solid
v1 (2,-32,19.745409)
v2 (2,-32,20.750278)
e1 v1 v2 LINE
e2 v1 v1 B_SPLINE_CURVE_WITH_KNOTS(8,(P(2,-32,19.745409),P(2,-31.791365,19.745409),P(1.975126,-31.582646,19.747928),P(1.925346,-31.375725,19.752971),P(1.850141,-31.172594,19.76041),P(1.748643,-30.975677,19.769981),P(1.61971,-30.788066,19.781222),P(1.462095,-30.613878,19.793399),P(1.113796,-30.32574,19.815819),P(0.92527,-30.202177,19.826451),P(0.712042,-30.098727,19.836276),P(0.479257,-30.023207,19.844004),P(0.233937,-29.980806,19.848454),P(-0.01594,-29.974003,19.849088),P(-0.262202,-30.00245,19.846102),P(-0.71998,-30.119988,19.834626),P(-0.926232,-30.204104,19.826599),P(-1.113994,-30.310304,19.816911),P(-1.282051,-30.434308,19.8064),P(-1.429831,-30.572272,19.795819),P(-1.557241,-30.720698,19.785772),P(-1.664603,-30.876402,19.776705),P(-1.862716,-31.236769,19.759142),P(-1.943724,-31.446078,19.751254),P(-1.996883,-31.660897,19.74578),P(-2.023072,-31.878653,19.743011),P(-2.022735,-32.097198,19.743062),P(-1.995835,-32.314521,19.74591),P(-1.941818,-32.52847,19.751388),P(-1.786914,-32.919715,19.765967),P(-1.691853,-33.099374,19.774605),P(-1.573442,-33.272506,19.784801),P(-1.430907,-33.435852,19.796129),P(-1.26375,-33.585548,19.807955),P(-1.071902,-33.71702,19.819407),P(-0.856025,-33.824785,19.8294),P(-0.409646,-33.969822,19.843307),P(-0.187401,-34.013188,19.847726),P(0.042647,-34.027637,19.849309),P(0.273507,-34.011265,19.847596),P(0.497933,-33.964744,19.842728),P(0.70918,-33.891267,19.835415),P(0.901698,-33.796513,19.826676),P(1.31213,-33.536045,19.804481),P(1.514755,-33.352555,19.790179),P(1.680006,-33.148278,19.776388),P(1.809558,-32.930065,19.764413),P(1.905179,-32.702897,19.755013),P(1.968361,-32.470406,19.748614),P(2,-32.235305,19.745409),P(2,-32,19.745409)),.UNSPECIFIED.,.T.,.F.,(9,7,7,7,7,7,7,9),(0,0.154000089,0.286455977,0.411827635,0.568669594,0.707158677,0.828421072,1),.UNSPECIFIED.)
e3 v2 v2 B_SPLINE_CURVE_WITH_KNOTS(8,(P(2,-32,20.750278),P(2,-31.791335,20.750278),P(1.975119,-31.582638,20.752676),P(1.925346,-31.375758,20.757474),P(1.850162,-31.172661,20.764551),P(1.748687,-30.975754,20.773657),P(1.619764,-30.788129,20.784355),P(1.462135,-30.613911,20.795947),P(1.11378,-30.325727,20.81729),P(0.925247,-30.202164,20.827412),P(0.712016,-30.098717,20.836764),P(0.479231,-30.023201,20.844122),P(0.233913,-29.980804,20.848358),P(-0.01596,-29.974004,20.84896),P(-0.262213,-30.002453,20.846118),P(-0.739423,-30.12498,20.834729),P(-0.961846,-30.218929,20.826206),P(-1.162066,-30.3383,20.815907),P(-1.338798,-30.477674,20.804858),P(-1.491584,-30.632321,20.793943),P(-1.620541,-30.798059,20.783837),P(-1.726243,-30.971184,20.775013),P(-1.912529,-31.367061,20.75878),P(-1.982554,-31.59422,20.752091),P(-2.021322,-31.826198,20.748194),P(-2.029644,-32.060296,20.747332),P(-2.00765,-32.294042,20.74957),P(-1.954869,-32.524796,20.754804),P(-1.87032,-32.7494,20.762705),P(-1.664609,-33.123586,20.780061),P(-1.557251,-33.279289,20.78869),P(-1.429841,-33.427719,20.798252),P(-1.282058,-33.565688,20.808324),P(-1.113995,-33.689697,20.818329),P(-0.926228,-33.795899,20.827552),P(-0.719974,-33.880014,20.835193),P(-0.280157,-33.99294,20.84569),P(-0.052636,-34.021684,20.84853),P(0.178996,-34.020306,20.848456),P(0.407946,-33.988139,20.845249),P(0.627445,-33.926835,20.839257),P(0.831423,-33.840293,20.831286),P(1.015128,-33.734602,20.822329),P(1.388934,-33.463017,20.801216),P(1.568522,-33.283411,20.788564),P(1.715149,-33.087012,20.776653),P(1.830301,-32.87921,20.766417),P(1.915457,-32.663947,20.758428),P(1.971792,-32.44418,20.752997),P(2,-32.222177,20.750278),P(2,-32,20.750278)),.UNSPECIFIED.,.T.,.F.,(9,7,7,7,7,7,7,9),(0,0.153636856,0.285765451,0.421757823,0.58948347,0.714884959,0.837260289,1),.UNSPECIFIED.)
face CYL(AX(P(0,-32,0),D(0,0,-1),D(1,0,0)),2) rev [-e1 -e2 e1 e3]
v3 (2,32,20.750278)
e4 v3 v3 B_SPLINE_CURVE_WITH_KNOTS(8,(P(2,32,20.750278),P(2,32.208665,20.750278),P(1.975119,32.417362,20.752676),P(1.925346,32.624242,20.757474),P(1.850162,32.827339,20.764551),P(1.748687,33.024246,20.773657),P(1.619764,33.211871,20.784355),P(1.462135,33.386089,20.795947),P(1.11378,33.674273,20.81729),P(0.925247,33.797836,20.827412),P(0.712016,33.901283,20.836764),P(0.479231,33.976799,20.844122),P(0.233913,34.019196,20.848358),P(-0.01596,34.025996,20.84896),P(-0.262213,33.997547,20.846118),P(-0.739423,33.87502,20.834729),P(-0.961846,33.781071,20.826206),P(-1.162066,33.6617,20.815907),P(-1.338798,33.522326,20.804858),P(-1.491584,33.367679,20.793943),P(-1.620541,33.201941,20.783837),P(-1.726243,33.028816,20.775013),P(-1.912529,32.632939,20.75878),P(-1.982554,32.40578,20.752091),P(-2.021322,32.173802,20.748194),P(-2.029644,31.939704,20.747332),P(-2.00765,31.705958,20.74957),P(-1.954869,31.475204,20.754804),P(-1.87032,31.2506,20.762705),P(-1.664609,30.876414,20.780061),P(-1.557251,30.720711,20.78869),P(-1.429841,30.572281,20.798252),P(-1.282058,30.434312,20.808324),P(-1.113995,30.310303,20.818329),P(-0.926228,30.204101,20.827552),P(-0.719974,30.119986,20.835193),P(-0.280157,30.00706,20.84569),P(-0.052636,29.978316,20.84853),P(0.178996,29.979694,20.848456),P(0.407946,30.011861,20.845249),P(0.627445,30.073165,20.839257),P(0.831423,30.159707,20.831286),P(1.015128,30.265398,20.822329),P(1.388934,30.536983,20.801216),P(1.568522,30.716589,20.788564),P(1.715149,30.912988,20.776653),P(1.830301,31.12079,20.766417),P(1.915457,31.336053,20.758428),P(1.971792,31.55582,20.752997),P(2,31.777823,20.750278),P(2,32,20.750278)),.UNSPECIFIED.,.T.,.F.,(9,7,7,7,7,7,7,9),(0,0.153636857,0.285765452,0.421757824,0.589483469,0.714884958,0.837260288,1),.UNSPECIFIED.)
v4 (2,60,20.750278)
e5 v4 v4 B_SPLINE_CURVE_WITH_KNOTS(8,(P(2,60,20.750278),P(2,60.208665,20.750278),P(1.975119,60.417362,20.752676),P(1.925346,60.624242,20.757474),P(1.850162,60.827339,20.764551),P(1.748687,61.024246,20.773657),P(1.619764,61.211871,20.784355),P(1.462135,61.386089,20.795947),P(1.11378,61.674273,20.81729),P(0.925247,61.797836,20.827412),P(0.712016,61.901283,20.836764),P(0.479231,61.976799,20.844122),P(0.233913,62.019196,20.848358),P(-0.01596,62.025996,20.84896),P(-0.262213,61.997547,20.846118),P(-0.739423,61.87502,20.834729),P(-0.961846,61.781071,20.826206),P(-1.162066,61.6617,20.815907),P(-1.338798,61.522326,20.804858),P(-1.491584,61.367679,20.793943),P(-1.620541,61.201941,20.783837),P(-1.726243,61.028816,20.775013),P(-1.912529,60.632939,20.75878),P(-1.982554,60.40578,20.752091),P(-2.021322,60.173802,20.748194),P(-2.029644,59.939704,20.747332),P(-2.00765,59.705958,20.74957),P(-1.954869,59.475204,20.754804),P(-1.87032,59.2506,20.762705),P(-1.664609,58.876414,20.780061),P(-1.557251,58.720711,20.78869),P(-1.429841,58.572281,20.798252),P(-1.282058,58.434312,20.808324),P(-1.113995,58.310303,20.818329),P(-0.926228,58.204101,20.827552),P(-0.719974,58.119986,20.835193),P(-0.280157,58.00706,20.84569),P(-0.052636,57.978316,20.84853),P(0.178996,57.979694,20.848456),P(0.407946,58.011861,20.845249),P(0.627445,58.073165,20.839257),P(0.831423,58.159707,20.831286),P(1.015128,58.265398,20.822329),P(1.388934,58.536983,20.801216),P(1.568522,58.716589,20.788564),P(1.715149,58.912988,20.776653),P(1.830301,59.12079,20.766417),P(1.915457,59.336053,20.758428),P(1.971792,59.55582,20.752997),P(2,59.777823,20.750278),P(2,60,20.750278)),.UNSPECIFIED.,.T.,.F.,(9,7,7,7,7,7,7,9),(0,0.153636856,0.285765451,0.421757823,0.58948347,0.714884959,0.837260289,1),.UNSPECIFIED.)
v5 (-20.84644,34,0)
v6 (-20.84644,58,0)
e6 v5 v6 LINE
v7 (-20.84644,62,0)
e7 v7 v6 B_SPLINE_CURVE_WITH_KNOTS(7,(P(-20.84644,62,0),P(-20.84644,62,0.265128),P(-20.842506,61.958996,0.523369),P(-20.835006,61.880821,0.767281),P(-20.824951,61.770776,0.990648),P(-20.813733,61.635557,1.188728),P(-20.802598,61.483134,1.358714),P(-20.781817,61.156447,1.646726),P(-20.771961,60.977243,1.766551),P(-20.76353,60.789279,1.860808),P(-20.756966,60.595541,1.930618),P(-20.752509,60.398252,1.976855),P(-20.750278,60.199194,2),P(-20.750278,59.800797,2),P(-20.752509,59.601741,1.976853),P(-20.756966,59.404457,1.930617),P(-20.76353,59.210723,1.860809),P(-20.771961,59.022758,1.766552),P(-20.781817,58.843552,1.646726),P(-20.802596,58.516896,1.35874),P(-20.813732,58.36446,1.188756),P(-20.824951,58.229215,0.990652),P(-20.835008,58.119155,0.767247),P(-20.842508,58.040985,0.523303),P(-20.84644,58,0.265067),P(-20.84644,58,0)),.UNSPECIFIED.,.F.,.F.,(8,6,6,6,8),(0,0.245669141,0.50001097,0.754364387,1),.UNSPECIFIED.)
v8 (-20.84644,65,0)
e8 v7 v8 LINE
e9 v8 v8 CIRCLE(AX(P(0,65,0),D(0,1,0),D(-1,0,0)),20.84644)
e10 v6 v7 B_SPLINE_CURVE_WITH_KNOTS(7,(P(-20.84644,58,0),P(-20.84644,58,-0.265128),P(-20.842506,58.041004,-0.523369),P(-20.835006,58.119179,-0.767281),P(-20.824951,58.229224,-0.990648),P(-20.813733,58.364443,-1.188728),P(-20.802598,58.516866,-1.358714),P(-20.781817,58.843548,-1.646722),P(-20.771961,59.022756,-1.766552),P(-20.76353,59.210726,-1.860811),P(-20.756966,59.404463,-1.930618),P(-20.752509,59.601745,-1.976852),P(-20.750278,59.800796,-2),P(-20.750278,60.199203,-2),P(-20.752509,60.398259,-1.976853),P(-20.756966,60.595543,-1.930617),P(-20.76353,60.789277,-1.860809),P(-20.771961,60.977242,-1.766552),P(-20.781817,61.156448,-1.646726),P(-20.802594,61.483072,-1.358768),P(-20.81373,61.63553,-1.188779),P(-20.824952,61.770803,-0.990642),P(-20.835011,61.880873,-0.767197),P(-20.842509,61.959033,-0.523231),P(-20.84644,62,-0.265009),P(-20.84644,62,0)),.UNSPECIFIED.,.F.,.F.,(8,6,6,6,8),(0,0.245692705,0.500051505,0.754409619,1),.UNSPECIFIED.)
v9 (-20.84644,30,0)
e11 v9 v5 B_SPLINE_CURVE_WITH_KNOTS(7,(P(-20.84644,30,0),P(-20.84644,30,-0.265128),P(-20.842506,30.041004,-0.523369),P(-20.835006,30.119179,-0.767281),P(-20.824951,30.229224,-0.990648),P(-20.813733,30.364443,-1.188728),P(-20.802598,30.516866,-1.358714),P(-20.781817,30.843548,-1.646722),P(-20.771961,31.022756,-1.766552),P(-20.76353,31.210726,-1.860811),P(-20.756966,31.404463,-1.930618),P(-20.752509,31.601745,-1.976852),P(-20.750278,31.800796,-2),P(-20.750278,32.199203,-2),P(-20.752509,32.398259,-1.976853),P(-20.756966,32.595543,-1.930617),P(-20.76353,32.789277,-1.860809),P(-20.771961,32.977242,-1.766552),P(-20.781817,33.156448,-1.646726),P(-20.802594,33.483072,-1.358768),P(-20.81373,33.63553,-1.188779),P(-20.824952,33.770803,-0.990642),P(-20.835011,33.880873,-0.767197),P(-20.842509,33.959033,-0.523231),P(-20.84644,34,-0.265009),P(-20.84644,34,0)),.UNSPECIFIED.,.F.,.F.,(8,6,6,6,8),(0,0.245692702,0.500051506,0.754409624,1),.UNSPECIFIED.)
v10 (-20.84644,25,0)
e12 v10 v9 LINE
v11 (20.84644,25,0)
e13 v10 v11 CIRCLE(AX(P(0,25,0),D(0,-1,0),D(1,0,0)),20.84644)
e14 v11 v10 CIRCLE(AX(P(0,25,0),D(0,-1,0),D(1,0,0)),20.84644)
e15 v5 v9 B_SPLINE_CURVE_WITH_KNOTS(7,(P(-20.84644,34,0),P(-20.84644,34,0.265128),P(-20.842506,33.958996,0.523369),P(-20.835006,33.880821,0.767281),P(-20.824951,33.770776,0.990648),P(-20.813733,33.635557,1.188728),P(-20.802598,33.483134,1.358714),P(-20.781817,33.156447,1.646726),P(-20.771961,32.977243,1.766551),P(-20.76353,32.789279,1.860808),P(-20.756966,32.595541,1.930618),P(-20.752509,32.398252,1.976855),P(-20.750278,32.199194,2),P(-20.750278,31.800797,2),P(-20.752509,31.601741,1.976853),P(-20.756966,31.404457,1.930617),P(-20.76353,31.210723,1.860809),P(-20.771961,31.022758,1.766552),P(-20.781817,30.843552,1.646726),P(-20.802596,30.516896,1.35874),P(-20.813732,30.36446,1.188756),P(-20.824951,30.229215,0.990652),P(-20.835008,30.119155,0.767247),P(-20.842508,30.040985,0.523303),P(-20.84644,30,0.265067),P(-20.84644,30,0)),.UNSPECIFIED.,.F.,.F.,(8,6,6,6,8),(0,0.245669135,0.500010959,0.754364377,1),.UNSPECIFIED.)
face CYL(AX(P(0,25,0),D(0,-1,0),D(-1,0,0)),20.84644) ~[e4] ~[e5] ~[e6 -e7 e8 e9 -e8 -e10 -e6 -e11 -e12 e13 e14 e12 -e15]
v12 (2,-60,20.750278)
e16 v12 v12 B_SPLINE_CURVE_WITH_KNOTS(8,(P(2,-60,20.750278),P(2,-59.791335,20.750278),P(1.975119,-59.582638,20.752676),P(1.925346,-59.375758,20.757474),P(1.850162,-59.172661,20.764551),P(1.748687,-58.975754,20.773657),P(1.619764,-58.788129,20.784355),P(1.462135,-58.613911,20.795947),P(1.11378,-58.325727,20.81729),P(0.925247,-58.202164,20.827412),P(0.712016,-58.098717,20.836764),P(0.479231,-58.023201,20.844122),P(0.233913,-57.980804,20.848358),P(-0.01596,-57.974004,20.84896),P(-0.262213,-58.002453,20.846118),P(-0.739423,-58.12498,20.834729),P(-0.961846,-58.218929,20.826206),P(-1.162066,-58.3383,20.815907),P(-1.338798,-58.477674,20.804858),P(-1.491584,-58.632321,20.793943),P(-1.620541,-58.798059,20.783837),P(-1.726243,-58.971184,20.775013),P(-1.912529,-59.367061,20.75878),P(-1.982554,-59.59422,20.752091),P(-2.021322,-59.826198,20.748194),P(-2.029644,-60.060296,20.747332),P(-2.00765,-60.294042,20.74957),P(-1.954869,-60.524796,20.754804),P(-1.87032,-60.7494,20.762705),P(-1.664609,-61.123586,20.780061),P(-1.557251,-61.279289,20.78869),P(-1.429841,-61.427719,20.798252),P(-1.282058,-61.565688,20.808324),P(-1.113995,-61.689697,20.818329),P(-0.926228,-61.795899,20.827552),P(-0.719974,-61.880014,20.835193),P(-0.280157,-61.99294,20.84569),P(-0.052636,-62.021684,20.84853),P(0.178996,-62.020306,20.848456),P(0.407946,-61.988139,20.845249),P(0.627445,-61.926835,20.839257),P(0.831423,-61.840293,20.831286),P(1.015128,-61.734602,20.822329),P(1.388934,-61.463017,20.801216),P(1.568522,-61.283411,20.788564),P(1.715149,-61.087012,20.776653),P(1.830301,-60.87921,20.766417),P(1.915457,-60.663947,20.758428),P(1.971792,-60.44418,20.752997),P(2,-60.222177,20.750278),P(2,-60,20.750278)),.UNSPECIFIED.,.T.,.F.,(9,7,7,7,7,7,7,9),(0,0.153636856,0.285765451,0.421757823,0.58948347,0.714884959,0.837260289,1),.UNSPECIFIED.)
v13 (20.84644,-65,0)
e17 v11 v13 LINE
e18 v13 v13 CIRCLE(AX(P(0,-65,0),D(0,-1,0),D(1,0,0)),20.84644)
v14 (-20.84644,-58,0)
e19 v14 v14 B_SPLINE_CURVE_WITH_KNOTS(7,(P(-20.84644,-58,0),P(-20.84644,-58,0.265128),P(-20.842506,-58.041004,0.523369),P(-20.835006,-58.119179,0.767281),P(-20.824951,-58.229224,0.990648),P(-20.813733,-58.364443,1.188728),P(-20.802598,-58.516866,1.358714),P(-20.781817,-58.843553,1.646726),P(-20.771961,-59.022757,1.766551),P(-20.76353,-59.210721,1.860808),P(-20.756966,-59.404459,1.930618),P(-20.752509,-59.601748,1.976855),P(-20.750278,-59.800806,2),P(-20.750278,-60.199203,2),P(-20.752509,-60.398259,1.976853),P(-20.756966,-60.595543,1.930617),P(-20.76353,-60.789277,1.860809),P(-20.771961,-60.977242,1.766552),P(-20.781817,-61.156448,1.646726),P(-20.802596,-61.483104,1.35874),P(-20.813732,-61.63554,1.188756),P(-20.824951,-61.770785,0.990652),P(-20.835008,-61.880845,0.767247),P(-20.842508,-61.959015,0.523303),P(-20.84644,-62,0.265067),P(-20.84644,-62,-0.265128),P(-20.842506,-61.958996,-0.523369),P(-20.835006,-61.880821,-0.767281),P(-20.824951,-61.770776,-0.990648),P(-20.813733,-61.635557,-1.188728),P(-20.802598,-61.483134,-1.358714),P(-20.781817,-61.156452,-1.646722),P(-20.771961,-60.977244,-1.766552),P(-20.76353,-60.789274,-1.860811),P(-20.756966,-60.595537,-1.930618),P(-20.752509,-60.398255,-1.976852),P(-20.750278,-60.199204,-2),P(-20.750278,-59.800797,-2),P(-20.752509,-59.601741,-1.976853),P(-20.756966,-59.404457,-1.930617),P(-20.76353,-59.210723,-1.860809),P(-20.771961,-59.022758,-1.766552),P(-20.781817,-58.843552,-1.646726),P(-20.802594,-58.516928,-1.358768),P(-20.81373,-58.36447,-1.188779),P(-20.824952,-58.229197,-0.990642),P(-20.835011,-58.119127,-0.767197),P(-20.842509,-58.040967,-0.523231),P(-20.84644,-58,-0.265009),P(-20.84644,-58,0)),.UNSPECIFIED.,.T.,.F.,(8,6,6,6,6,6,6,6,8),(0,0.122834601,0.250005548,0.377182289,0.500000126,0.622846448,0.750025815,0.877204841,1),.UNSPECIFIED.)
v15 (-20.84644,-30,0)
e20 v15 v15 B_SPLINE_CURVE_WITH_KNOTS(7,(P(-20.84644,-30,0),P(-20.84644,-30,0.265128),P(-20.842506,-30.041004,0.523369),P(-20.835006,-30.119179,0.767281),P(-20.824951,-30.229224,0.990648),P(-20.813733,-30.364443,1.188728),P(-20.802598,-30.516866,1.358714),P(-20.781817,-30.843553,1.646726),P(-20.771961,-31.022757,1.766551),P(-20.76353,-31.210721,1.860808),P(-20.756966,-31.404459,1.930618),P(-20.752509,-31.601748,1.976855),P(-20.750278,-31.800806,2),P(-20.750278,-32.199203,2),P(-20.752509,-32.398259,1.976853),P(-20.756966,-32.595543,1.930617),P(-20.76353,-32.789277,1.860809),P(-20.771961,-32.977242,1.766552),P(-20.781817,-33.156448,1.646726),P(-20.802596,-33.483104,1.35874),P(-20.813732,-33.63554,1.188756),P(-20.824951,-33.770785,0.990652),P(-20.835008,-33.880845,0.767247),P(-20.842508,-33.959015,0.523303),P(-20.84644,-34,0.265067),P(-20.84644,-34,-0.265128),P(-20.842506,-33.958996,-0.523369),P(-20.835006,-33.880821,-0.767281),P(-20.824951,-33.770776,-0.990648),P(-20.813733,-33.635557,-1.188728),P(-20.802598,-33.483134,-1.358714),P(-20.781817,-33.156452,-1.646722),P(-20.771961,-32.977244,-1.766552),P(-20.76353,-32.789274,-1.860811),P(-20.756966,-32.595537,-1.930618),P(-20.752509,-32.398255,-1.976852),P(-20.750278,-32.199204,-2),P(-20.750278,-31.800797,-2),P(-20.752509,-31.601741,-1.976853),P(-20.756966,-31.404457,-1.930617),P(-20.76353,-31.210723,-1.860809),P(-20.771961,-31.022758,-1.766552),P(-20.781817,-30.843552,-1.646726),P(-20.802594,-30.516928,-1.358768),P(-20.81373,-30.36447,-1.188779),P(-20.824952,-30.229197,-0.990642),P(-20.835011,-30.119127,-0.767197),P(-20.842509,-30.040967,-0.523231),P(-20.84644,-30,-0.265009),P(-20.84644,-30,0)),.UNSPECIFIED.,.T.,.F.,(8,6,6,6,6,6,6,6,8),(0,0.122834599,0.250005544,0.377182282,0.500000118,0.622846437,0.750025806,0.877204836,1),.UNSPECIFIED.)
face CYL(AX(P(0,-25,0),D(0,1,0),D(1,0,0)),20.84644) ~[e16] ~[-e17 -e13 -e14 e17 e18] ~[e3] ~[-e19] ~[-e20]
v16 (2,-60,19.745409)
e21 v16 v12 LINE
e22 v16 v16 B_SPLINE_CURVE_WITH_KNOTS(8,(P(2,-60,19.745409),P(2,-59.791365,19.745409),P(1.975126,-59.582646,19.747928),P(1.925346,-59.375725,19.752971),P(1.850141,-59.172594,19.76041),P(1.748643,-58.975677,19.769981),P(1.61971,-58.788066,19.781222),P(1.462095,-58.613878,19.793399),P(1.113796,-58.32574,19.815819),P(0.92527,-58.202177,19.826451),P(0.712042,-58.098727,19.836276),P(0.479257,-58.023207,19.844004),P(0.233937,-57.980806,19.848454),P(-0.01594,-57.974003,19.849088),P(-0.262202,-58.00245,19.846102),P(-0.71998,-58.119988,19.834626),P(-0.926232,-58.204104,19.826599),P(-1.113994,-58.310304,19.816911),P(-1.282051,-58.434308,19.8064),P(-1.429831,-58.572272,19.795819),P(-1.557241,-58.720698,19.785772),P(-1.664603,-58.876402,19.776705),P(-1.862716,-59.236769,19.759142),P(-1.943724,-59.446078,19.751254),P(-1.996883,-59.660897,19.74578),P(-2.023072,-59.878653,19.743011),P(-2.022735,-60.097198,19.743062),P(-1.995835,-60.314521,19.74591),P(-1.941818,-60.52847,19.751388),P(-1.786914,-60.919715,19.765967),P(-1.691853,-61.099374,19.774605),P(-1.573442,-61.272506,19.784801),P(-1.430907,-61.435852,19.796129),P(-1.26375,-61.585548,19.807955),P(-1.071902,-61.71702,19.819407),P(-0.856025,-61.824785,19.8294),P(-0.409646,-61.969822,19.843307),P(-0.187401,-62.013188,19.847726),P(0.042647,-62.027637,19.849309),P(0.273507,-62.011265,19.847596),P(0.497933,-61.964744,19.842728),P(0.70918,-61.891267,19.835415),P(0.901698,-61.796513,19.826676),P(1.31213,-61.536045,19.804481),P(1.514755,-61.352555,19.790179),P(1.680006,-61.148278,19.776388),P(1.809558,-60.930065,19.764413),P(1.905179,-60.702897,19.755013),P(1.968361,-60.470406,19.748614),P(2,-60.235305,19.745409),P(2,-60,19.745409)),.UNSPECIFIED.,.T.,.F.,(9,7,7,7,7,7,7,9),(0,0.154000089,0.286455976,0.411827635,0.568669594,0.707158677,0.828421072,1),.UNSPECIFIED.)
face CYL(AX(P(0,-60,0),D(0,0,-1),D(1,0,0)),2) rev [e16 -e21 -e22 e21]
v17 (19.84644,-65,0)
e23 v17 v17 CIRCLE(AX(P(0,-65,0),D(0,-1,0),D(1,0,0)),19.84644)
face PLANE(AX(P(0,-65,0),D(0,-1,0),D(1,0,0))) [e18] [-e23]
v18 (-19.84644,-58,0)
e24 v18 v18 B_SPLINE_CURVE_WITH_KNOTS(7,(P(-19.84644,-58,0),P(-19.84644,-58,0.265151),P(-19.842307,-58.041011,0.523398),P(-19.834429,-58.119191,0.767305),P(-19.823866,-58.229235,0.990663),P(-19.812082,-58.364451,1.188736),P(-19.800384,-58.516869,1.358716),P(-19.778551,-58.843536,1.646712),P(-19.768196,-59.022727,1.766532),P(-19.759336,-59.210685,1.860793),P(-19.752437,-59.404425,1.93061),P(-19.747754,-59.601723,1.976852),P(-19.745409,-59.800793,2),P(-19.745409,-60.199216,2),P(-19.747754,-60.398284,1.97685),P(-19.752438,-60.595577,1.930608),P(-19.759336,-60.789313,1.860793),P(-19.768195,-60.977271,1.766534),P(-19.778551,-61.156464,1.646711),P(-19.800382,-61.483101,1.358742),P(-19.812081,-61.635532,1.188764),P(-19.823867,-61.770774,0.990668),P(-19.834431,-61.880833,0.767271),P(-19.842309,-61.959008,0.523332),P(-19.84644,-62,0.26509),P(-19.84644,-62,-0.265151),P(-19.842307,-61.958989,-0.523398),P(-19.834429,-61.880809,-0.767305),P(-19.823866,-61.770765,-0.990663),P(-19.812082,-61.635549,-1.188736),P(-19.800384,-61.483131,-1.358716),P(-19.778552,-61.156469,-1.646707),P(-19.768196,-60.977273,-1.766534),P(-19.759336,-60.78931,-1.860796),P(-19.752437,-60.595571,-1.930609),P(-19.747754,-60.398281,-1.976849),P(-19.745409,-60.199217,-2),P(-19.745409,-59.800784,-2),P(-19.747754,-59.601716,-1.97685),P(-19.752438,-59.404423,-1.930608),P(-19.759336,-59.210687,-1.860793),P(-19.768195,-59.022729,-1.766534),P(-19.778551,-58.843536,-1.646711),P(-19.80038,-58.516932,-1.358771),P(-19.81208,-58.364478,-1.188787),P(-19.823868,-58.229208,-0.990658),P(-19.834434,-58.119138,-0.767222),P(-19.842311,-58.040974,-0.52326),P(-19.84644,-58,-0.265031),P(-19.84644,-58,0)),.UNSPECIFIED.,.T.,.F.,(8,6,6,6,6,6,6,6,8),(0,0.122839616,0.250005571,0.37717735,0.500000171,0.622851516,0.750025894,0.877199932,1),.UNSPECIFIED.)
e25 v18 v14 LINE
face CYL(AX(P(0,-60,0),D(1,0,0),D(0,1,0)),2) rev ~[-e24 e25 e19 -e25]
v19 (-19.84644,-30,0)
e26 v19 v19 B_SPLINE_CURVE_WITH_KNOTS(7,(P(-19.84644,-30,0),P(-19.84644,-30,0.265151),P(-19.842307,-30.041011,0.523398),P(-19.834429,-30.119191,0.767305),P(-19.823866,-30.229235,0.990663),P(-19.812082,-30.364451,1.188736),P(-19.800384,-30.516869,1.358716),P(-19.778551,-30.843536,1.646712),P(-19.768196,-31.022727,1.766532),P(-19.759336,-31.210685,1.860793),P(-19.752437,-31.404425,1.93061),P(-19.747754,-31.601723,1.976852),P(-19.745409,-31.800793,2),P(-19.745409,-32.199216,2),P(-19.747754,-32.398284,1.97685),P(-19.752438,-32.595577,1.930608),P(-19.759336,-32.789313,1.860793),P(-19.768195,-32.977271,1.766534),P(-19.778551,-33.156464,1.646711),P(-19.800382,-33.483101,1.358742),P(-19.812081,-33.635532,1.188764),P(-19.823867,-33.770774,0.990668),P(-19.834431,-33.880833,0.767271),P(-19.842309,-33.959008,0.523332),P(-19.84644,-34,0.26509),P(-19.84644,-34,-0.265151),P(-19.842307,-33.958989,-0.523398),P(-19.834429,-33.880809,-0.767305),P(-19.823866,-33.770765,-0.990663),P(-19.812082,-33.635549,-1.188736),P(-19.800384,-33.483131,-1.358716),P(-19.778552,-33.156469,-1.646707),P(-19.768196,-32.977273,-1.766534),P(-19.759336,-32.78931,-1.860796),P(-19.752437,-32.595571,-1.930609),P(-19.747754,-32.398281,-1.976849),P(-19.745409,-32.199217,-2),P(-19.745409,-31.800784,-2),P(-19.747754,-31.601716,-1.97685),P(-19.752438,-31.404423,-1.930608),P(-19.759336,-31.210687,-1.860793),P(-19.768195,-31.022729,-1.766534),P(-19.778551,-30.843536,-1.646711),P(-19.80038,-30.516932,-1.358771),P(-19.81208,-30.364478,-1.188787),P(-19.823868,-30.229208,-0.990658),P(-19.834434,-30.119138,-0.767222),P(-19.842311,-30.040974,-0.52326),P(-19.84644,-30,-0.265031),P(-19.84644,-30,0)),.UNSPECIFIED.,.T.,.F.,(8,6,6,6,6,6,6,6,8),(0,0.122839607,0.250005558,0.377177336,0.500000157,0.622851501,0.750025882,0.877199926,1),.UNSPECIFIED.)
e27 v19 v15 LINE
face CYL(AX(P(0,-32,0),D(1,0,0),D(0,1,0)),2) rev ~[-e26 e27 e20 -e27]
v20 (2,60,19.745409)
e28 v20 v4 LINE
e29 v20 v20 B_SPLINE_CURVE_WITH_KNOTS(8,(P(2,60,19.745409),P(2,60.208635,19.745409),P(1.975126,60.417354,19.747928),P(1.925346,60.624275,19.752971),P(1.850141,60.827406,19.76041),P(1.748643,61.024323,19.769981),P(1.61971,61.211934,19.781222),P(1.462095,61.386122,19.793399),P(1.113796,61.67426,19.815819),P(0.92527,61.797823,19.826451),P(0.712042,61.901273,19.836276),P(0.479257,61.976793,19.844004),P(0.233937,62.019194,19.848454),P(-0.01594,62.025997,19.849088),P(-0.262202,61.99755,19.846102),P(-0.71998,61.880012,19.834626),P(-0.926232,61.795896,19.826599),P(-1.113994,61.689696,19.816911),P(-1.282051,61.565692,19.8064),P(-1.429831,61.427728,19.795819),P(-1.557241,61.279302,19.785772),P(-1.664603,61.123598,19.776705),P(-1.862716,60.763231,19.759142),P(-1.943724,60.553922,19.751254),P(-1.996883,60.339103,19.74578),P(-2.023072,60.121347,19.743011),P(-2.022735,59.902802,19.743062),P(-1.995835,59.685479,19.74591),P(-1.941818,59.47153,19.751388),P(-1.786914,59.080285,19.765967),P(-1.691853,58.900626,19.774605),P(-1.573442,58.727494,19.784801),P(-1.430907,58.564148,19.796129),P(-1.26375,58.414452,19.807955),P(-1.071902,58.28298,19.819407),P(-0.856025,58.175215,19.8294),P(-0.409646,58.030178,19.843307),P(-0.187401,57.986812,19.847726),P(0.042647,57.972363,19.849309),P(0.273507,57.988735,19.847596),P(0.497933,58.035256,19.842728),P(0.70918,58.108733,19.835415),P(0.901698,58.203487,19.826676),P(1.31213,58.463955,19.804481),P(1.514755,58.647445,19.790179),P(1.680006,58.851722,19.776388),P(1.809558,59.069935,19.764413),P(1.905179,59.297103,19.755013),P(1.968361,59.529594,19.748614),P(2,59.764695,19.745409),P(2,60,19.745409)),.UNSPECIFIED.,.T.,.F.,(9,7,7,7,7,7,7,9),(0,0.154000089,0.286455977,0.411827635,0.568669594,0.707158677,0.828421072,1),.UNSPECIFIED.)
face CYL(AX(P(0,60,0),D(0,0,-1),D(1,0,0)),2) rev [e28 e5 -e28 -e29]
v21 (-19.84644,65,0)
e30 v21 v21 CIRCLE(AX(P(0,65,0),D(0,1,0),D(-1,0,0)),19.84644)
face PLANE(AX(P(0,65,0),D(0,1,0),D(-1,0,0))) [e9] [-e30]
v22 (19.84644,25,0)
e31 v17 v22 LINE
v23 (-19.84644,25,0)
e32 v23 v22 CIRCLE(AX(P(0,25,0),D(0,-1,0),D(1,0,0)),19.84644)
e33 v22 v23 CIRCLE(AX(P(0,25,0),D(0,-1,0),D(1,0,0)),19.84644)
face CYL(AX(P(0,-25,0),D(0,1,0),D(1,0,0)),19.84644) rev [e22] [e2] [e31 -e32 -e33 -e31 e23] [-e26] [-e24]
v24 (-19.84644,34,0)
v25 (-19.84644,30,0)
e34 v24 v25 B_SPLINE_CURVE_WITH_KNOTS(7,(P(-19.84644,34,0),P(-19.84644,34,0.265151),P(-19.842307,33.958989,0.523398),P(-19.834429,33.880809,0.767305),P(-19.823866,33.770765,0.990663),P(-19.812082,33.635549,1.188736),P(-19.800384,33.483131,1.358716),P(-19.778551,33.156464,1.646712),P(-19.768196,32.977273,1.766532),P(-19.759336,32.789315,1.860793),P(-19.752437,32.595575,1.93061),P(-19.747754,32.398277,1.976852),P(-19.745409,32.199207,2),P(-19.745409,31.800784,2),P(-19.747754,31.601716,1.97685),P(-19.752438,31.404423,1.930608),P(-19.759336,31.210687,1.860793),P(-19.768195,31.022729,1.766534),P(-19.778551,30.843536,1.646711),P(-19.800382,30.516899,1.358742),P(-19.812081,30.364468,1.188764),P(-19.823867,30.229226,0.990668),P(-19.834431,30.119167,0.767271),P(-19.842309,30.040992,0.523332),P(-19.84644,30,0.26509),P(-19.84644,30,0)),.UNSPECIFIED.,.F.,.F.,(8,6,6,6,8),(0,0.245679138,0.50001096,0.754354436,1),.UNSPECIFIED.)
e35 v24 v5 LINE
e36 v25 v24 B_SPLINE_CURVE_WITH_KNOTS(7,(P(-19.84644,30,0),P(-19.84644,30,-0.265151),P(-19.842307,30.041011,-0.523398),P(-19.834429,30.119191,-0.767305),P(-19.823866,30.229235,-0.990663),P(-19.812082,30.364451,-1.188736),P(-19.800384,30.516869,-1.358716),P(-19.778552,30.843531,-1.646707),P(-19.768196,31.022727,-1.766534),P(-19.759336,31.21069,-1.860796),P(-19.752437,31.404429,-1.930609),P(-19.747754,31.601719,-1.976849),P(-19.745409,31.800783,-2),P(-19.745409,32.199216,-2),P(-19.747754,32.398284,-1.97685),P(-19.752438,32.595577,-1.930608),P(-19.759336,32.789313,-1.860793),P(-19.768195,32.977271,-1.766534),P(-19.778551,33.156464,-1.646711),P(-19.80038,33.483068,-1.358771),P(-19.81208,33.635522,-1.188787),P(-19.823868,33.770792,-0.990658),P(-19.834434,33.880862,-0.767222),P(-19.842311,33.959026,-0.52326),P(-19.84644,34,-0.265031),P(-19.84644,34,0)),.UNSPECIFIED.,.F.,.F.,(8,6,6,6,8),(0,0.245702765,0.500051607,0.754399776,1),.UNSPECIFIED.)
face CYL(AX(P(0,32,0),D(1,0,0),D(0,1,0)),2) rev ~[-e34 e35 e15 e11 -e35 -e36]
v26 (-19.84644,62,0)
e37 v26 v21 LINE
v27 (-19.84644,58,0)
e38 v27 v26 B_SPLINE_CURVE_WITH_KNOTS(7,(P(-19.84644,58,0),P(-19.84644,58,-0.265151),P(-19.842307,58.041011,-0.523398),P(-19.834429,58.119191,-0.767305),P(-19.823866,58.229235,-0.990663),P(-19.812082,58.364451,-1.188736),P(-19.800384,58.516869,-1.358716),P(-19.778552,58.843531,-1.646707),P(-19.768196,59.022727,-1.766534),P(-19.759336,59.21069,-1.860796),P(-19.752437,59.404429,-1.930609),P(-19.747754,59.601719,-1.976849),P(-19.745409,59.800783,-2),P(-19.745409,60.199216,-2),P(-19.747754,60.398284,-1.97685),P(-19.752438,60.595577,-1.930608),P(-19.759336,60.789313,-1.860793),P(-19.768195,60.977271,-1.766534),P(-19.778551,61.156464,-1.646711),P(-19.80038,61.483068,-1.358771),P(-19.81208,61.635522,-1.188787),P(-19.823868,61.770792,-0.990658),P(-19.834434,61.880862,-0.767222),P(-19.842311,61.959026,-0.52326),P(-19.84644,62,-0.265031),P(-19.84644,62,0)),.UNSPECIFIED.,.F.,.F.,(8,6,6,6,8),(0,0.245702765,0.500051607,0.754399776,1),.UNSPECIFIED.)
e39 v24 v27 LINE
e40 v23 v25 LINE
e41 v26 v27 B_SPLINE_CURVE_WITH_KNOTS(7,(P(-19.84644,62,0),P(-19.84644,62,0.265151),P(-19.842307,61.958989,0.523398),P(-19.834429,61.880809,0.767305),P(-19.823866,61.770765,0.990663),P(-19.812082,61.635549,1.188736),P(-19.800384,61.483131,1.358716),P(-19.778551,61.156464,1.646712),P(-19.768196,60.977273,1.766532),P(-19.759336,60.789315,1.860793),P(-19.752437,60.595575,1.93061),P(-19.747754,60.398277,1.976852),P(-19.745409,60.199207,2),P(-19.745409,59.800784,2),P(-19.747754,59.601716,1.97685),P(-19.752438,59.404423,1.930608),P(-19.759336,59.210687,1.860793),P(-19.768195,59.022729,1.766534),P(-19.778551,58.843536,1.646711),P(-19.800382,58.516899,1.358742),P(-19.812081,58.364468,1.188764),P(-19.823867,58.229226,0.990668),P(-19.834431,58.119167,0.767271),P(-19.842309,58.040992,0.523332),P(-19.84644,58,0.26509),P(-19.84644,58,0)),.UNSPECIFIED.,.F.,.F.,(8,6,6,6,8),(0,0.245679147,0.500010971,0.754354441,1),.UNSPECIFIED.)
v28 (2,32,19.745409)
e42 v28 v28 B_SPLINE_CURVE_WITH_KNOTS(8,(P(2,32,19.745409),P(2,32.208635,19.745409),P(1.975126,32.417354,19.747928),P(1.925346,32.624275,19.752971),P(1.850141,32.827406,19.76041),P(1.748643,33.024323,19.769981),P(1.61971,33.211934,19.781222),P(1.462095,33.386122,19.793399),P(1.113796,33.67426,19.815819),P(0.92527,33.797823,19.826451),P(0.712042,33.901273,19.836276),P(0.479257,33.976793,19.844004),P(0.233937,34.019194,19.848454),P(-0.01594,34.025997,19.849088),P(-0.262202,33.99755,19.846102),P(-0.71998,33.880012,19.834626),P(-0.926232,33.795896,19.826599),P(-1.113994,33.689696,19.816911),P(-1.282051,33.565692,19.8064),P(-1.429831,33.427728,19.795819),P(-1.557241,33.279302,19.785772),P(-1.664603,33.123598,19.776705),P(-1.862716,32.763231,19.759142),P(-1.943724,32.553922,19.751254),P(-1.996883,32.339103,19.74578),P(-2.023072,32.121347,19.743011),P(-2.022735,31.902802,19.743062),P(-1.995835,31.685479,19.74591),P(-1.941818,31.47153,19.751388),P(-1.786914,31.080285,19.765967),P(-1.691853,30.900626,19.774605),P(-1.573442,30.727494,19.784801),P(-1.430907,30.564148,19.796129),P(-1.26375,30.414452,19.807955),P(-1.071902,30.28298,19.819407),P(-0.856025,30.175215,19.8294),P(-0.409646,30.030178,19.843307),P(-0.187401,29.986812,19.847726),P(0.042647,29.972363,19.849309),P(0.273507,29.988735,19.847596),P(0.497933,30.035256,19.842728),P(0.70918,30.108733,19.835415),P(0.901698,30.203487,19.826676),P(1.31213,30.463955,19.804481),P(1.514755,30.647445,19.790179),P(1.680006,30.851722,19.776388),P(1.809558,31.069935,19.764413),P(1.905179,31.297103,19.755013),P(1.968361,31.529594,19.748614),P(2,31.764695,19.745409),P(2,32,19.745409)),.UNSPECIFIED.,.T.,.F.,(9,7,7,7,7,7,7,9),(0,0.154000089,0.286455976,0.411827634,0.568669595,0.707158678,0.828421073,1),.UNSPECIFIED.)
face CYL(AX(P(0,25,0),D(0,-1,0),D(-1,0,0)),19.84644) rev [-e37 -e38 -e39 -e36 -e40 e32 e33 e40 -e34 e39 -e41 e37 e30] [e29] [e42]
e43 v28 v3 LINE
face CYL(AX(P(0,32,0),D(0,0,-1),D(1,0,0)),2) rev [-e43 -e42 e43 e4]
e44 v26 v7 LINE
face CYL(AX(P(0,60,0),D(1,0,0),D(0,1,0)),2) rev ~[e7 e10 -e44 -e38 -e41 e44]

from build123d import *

# Parameters (mm, degrees)
F2_R      = 20.8464397385
F2_R_2    = 19.8464397385
F3_DEPTH  = 25
F4_R      = 20.8464397385
F4_R_2    = 19.8464397385
F5_DEPTH  = 40
F8_R      = 20.8464397385
F8_R_2    = 19.8464397385
F9_DEPTH  = 40
F6_R      = 2
F10_DEPTH = 20.8474397385
F7_R      = 2
F11_DEPTH = 20.8474398385
F12_R     = 2
F13_DEPTH = 20.8474398715
F14_R     = 2
F15_DEPTH = 20.8474398385


with BuildPart() as f3:
    # F2 (on Front) → F3 (new body, symmetric)
    with BuildSketch(Plane.XZ):
        Circle(F2_R)
        Circle(F2_R_2, mode=Mode.SUBTRACT)
    extrude(amount=F3_DEPTH, both=True)

    # F4 (on face) → F5 (join)
    with BuildSketch(Plane.XZ.offset(25)):
        Circle(F4_R)
        Circle(F4_R_2, mode=Mode.SUBTRACT)
    extrude(amount=F5_DEPTH)

    # F8 (on face) → F9 (join)
    with BuildSketch(Plane(origin=(0, 25, 0), x_dir=(-1, 0, 0), z_dir=(0, 1, 0))):
        Circle(F8_R)
        Circle(F8_R_2, mode=Mode.SUBTRACT)
    extrude(amount=F9_DEPTH)

    # F6 (on Top) → F10 (cut, through all)
    with BuildSketch(Plane.XY):
        with Locations((0, -32)):
            Circle(F6_R)
        with Locations((0, -60)):
            Circle(F6_R)
    extrude(amount=F10_DEPTH, mode=Mode.SUBTRACT)

    # F7 (on Right) → F11 (cut, through all)
    with BuildSketch(Plane.YZ):
        with Locations((-60, 0)):
            Circle(F7_R)
        with Locations((-32, 0)):
            Circle(F7_R)
    extrude(amount=-F11_DEPTH, mode=Mode.SUBTRACT)

    # F12 (on Top) → F13 (cut, through all)
    with BuildSketch(Plane.XY):
        with Locations((0, 60)):
            Circle(F12_R)
        with Locations((0, 32)):
            Circle(F12_R)
    extrude(amount=F13_DEPTH, mode=Mode.SUBTRACT)

    # F14 (on Right) → F15 (cut, through all)
    with BuildSketch(Plane.YZ):
        with Locations((60, 0)):
            Circle(F14_R)
        with Locations((32, 0)):
            Circle(F14_R)
    extrude(amount=-F15_DEPTH, mode=Mode.SUBTRACT)


solid = f3.part
